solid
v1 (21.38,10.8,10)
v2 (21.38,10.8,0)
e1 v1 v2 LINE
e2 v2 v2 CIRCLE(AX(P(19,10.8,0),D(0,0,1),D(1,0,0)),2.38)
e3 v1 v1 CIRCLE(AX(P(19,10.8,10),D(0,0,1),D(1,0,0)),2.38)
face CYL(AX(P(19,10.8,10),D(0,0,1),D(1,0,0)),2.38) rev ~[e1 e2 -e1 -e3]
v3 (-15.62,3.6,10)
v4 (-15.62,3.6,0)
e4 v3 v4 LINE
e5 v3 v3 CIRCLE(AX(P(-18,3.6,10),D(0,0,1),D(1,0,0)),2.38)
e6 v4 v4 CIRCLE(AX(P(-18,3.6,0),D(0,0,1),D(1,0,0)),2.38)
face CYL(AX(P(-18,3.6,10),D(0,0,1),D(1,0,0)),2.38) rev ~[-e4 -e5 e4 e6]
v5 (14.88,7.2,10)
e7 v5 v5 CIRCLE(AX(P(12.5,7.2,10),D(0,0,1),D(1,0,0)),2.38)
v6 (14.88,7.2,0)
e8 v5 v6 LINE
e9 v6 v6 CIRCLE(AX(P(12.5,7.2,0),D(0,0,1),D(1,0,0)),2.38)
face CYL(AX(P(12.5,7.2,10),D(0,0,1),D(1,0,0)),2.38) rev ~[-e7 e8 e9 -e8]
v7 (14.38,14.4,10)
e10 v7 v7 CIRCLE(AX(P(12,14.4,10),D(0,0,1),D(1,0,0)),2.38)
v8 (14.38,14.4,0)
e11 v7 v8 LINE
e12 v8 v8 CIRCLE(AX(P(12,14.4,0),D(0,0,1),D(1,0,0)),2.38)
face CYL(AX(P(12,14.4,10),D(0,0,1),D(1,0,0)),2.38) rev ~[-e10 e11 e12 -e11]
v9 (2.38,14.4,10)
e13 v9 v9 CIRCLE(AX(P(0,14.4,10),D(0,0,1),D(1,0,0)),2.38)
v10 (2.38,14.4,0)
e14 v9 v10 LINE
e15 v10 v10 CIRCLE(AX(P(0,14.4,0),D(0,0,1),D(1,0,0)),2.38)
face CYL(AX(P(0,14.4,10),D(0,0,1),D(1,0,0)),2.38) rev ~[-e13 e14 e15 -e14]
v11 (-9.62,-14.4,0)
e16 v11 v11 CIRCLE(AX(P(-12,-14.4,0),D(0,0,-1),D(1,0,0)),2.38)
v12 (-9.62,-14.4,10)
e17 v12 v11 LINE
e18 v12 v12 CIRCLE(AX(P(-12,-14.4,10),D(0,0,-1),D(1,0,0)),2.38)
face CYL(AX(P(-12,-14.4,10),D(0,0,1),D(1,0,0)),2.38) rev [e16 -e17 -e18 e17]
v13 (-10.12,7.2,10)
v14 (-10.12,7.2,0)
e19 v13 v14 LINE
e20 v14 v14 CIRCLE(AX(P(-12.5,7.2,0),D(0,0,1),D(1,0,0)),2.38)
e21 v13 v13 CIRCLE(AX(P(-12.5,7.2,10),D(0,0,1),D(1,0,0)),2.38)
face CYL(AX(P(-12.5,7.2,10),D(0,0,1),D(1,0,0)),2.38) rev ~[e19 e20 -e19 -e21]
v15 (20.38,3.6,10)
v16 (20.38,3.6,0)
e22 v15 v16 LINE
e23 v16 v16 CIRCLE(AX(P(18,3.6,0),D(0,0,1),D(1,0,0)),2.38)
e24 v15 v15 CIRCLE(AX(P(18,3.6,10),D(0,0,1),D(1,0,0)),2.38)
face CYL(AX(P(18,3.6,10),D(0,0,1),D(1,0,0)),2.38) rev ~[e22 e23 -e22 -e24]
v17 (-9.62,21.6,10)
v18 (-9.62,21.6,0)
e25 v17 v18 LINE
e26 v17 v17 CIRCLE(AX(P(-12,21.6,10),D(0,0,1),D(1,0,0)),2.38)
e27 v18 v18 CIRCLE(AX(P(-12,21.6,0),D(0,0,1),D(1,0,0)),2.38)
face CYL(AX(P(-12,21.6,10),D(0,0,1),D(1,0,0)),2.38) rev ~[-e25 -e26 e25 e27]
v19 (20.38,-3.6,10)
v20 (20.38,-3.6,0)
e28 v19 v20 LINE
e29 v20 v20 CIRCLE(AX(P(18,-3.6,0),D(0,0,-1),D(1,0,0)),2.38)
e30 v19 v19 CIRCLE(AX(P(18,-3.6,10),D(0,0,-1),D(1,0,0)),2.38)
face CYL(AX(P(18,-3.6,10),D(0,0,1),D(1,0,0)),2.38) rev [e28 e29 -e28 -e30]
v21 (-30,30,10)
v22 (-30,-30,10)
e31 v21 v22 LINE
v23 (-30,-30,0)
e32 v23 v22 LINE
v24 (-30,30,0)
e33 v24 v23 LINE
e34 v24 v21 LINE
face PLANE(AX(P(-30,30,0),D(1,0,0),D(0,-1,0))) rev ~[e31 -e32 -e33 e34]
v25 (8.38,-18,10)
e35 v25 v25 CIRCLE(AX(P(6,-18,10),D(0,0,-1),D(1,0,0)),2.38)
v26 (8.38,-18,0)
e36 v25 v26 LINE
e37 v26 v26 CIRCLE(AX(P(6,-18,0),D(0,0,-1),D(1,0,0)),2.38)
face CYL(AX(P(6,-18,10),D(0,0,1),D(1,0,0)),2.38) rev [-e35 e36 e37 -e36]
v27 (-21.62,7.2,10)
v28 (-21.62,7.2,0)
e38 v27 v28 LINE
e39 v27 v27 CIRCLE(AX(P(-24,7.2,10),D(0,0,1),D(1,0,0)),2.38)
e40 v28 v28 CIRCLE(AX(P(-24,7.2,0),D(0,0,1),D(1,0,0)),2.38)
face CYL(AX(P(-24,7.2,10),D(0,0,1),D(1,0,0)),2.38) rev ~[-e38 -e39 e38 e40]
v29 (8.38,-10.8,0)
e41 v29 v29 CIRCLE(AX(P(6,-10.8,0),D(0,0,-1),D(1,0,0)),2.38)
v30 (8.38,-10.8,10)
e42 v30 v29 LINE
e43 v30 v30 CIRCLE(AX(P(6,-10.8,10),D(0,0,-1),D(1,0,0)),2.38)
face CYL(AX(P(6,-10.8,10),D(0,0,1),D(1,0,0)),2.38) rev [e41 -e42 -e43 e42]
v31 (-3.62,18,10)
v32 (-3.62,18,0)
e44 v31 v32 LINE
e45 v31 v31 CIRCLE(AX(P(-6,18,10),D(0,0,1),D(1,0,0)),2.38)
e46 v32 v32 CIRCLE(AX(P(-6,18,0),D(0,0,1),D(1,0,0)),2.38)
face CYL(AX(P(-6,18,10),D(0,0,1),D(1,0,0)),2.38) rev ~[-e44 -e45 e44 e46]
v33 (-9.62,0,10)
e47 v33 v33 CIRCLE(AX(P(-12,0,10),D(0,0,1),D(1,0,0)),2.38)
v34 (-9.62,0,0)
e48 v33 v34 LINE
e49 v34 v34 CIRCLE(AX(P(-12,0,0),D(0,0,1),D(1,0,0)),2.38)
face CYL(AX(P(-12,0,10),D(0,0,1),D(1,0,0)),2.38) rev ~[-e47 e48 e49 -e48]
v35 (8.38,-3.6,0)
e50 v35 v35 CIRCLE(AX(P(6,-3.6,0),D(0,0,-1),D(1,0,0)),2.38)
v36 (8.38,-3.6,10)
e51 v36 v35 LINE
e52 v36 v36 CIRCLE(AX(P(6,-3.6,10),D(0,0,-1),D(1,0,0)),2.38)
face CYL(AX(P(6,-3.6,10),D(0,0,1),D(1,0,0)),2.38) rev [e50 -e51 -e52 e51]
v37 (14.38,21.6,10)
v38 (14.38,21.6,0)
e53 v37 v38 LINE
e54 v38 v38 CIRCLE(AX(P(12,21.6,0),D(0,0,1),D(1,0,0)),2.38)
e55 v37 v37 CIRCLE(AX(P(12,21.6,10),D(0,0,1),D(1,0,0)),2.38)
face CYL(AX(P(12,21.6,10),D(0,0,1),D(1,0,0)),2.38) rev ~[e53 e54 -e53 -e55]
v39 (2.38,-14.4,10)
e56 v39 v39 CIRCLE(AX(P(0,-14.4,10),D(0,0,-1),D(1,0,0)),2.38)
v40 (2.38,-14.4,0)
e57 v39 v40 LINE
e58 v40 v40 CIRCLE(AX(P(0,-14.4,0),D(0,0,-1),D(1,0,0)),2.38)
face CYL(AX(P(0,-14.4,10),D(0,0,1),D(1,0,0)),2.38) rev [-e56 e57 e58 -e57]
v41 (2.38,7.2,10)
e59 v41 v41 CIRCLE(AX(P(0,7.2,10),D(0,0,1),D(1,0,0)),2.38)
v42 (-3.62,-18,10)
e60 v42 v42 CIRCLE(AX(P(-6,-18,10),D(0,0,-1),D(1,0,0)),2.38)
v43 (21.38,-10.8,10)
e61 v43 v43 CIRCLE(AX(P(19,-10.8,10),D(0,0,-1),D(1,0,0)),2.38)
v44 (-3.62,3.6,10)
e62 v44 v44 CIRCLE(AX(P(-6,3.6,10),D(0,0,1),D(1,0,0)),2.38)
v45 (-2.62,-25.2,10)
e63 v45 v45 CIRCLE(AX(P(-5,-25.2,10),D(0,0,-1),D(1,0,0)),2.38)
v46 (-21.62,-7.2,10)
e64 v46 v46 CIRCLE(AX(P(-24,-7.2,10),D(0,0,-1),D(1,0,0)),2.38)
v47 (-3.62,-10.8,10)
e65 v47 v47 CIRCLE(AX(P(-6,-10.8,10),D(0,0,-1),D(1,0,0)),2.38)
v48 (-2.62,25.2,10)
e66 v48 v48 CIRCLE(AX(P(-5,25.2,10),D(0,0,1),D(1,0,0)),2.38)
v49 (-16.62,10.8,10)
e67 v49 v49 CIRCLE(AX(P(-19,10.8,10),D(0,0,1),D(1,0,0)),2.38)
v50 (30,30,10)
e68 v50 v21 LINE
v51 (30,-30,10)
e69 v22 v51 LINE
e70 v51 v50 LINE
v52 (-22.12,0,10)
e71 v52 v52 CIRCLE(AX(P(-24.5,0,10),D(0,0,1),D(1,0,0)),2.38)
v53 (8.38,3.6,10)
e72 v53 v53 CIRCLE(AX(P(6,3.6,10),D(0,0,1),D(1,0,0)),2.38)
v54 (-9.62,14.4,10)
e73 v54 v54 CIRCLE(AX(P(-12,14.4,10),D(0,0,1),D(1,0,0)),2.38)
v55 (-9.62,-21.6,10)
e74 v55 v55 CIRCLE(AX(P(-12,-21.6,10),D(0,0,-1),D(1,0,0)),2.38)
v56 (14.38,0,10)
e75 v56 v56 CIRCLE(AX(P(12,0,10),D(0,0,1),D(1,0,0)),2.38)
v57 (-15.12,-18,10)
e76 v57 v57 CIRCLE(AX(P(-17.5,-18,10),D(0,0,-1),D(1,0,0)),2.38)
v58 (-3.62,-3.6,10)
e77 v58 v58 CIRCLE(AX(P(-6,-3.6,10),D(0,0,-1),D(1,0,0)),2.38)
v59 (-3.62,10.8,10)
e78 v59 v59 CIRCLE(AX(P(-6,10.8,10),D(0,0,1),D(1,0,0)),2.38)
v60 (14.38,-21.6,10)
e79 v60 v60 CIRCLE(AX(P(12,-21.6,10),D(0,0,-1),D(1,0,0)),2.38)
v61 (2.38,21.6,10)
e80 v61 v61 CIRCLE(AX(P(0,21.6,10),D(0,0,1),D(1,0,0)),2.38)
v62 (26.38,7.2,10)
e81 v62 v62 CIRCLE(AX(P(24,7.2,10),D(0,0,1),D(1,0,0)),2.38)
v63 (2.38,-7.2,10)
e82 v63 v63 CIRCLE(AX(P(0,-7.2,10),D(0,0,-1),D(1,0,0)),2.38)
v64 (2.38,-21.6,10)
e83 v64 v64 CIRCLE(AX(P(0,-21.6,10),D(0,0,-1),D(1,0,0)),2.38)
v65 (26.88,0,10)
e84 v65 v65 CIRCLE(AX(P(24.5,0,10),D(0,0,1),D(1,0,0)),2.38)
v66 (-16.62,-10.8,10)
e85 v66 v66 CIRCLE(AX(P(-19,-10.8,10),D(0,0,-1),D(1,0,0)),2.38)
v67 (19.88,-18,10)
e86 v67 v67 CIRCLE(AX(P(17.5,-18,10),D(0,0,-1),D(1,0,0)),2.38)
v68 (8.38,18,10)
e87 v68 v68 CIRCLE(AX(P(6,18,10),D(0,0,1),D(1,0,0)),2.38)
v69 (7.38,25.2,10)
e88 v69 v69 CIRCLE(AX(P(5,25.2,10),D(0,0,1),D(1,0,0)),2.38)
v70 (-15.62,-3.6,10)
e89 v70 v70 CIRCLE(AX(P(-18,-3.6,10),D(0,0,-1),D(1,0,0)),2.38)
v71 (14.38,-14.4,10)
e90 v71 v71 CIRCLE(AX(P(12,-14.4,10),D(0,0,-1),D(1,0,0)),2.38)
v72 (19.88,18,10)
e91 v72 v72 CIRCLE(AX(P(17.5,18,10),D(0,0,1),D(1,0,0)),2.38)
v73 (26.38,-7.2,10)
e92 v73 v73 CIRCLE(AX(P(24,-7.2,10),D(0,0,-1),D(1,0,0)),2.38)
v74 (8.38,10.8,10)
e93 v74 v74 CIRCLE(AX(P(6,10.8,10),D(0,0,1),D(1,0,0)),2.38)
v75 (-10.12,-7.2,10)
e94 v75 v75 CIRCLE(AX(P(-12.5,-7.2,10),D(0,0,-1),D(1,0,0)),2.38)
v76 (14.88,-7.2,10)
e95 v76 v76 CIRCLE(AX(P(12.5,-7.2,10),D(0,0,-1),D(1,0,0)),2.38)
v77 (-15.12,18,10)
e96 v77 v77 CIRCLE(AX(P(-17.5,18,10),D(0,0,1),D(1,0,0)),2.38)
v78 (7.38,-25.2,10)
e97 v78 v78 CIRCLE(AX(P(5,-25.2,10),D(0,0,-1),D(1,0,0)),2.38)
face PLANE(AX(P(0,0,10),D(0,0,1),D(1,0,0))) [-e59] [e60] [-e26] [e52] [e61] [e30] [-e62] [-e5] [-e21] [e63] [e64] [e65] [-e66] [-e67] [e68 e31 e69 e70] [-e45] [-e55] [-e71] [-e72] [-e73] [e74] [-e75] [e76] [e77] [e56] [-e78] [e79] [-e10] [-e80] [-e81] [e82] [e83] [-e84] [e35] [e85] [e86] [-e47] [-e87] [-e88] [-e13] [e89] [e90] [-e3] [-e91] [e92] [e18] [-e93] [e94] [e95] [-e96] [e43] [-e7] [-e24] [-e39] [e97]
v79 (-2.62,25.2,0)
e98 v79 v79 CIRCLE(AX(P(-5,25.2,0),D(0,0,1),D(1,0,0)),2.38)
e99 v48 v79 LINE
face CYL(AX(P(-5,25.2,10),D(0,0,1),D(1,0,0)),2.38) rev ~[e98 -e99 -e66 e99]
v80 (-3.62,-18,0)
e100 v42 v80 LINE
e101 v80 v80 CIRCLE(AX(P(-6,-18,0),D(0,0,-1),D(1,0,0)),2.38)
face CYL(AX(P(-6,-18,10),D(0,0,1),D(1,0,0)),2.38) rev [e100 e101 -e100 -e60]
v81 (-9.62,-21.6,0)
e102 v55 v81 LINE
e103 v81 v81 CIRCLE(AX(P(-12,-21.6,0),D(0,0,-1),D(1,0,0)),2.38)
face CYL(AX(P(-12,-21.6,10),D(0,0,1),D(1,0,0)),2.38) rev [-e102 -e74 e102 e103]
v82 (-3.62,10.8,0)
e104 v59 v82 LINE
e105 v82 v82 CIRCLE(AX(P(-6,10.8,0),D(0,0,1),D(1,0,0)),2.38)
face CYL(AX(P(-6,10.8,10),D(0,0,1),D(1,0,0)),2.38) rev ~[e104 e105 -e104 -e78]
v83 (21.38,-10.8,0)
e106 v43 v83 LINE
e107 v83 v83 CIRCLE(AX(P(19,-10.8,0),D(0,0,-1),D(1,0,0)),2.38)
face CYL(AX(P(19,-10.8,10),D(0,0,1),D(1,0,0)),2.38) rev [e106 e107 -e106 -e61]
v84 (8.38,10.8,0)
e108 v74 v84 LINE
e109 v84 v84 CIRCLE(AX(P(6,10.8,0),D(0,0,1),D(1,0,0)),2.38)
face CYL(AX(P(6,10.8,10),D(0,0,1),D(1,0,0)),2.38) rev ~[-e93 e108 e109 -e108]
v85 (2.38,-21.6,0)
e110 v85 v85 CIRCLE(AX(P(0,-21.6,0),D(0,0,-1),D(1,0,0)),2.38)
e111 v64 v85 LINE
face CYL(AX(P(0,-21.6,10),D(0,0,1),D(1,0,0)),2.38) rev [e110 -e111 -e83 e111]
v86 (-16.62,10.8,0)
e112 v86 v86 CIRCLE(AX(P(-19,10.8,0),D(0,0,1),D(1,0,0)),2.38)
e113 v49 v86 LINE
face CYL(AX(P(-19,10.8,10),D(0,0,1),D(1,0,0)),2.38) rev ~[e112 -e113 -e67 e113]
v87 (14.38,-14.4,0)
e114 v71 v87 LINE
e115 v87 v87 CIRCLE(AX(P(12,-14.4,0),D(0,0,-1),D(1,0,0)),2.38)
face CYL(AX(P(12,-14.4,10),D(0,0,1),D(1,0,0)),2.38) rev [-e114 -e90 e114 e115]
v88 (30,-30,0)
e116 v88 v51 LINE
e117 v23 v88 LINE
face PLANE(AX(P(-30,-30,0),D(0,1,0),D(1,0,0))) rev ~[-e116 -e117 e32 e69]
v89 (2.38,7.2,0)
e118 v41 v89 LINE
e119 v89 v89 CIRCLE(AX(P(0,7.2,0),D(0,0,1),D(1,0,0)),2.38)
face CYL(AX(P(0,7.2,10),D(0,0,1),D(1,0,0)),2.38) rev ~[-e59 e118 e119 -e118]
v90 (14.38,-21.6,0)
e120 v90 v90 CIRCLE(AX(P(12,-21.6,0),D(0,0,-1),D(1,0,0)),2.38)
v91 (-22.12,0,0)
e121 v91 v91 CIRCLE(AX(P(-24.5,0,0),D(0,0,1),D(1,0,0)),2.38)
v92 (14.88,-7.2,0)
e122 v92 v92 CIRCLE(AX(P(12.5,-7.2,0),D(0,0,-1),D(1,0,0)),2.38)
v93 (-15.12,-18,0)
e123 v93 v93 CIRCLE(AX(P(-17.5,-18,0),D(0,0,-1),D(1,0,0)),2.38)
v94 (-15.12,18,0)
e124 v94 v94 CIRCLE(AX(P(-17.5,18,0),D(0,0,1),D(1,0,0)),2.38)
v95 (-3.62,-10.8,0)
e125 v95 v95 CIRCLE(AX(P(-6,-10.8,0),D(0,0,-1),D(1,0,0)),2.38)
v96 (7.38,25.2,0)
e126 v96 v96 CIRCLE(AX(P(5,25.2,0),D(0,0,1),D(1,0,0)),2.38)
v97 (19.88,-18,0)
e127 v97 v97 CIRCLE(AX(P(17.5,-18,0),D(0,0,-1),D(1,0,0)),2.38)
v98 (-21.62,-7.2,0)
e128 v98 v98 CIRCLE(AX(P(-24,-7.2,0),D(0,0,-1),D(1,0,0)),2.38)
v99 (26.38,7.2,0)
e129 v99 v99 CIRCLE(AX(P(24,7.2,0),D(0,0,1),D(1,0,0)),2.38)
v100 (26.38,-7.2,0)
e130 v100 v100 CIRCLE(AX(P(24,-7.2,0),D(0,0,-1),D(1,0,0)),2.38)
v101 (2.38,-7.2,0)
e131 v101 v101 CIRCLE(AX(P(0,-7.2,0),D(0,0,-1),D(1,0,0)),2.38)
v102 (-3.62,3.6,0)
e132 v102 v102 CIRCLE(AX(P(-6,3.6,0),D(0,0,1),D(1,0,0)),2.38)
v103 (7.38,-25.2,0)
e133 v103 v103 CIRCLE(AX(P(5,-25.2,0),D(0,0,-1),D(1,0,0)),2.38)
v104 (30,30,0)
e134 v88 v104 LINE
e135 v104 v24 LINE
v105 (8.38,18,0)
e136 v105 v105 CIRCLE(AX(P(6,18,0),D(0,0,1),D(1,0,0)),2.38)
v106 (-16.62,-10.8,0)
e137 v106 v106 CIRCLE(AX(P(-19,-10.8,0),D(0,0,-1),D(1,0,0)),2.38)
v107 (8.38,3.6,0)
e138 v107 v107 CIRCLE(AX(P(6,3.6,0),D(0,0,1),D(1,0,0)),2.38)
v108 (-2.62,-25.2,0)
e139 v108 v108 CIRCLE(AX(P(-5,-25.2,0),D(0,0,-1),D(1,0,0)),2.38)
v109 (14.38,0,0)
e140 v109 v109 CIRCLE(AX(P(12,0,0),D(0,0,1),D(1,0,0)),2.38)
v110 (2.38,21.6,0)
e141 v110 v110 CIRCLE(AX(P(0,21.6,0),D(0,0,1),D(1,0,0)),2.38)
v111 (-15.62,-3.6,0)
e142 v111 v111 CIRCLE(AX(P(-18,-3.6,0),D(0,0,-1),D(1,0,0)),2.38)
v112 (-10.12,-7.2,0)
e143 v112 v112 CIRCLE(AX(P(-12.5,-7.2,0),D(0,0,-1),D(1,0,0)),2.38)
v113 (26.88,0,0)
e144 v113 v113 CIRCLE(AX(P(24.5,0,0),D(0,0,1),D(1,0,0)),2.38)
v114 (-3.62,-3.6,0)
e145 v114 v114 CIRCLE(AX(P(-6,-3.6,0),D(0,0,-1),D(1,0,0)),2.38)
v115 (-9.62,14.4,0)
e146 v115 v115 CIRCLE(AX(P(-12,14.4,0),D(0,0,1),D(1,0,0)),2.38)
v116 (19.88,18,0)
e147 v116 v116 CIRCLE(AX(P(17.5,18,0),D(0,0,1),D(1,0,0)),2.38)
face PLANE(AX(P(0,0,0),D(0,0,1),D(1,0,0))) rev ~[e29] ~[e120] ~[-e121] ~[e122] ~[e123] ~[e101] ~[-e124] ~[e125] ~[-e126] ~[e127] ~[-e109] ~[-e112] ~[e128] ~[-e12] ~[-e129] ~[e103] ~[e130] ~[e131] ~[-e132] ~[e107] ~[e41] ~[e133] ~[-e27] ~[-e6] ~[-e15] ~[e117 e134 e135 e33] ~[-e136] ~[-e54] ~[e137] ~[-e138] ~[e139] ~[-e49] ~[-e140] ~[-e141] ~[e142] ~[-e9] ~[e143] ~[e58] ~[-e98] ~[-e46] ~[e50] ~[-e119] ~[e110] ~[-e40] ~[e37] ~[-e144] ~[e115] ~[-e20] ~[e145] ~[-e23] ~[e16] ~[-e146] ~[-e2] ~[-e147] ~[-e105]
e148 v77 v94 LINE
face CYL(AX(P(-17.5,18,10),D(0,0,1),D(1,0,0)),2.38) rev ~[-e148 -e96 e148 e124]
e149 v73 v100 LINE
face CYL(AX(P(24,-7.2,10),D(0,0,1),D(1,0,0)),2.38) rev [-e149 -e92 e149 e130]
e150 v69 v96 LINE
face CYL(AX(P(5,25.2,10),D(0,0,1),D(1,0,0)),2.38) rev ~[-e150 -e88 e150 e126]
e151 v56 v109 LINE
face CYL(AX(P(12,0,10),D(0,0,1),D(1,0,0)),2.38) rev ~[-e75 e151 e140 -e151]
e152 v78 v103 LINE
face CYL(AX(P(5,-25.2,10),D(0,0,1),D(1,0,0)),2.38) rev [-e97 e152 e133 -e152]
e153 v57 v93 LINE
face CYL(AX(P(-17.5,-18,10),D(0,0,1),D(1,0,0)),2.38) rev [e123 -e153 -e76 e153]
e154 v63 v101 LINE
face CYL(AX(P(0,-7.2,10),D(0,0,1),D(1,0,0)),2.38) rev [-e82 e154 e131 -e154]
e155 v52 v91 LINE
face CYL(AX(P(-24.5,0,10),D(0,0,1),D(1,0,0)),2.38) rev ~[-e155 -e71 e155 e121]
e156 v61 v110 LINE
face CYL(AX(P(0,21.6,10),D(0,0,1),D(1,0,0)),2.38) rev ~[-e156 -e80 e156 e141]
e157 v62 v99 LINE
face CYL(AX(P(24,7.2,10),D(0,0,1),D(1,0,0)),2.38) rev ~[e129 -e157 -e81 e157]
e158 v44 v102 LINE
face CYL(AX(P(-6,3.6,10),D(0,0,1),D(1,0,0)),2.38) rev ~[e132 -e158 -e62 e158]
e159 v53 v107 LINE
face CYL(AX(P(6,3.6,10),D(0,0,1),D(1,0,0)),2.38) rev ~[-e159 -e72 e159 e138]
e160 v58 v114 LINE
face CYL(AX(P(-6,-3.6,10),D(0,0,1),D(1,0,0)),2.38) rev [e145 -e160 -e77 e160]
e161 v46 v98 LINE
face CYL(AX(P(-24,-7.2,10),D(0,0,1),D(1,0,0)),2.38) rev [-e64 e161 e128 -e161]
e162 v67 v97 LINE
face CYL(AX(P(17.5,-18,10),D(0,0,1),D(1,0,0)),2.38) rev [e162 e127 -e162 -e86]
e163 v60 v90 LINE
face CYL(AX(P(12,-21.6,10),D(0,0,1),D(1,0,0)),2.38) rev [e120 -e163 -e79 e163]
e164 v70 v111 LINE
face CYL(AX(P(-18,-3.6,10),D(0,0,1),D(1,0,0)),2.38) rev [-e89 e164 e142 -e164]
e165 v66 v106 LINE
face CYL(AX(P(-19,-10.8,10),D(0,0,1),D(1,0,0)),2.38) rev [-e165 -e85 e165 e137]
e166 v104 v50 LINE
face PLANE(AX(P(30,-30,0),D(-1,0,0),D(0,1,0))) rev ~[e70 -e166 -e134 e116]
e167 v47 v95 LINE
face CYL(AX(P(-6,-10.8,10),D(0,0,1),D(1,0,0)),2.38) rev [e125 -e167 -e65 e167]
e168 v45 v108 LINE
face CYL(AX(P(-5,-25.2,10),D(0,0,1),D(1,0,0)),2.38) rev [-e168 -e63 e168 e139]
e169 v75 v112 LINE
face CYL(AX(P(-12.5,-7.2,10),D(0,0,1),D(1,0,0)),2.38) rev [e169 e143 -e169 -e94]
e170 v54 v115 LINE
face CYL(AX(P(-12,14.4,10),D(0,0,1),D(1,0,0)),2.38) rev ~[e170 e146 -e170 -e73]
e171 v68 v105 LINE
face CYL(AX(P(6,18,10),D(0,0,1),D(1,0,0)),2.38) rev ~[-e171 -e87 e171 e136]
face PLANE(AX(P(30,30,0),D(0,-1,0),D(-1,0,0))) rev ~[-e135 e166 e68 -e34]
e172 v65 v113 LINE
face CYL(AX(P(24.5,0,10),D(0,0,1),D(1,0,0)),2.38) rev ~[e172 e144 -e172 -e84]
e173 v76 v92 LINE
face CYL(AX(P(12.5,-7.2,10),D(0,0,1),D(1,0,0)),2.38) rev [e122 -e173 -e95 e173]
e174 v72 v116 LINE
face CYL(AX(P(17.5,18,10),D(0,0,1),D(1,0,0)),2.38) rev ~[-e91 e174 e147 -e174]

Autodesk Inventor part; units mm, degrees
ref_plane "Work Plane1" through (-30, 0, 0) normal (0, 1, 0) x (1, 0, 0)
ref_plane "YZ Plane" through (0, 0, 0) normal (1, 0, 0) x (0, 1, 0)
sketch "Sketch1" plane through (0, 0, 0) normal (0, 0, 1) x (1, 0, 0)
  line L0 (-30, -30) -> (30, -30)
  line L1 (30, -30) -> (30, 30)
  line L2 (30, 30) -> (-30, 30)
  line L3 (-30, 30) -> (-30, -30)
  line L4 (-30, -30) -> (30, 30) construction
  line L5 (30, -30) -> (-30, 30) construction
  point P0 (0, 0)
  dimension "d0" = 60
  dimension "d1" = 60
extrude "Extrusion1" add sketch "Sketch1" along normal blind 10
sketch "Sketch3" plane through (0, 0, 10) normal (0, 0, 1) x (1, 0, 0)
  circle A0 centre (0, 0) radius 29
  line L0 (-14.3513, 25.2) -> (14.3513, 25.2) construction
  line L1 (-19.3505, 21.6) -> (19.3505, 21.6) construction
  line L2 (22.7376, 18) -> (-22.7376, 18) construction
  line L3 (-25.1722, 14.4) -> (25.1722, 14.4) construction
  line L4 (26.9139, 10.8) -> (-26.9139, 10.8) construction
  line L5 (-28.092, 7.2) -> (28.092, 7.2) construction
  line L6 (28.7757, 3.6) -> (-28.7757, 3.6) construction
  line L7 (-29, 0) -> (29, 0) construction
  circle A1 centre (-5, 25.2) radius 2.38
  circle A2 centre (5, 25.2) radius 2.38
  circle A3 centre (-12, 21.6) radius 2.38
  circle A4 centre (0, 21.6) radius 2.38
  circle A5 centre (12, 21.6) radius 2.38
  circle A6 centre (-17.5, 18) radius 2.38
  circle A7 centre (-6, 18) radius 2.38
  circle A8 centre (6, 18) radius 2.38
  circle A9 centre (17.5, 18) radius 2.38
  circle A10 centre (-12, 14.4) radius 2.38
  circle A11 centre (0, 14.4) radius 2.38
  circle A12 centre (12, 14.4) radius 2.38
  circle A13 centre (-19, 10.8) radius 2.38
  circle A14 centre (19, 10.8) radius 2.38
  circle A15 centre (6, 10.8) radius 2.38
  circle A16 centre (-6, 10.8) radius 2.38
  circle A17 centre (-24, 7.2) radius 2.38
  circle A18 centre (-12.5, 7.2) radius 2.38
  circle A19 centre (0, 7.2) radius 2.38
  circle A20 centre (12.5, 7.2) radius 2.38
  circle A21 centre (24, 7.2) radius 2.38
  circle A22 centre (-18, 3.6) radius 2.38
  circle A23 centre (-6, 3.6) radius 2.38
  circle A24 centre (6, 3.6) radius 2.38
  circle A25 centre (18, 3.6) radius 2.38
  circle A26 centre (-24.5, 0) radius 2.38
  circle A27 centre (-12, 0) radius 2.38
  circle A28 centre (12, 0) radius 2.38
  circle A29 centre (24.5, 0) radius 2.38
  dimension "d52" = 58
  dimension "d53" = 3.6
  dimension "d54" = 3.6
  dimension "d55" = 3.6
  dimension "d56" = 3.6
  dimension "d57" = 3.6
  dimension "d58" = 3.6
  dimension "d59" = 3.6
  dimension "d65" = 5
  dimension "d66" = 5
  dimension "d67" = 4.76
  dimension "d68" = 12
  dimension "d69" = 12
  dimension "d70" = 6
  dimension "d71" = 6
  dimension "d72" = 17.5
  dimension "d73" = 17.5
  dimension "d74" = 12
  dimension "d75" = 12
  dimension "d76" = 19
  dimension "d77" = 6
  dimension "d78" = 6
  dimension "d79" = 19
  dimension "d80" = 12.5
  dimension "d81" = 12.5
  dimension "d82" = 24
  dimension "d83" = 24
  dimension "d84" = 6
  dimension "d85" = 6
  dimension "d86" = 18
  dimension "d87" = 18
  dimension "d88" = 12
  dimension "d89" = 12
  dimension "d90" = 24.5
  dimension "d91" = 24.5
extrude "Extrusion3" cut sketch "Sketch3" against normal up to next contours A1 | A2 | A3 | A4 | A5 | A6 | A7 | A8 | A9 | A10 | A11 | A12 | A13 | A14 | A15 | A16 | A17 | A18 | A19 | A20 | A21 | A22 | A23 | A24 | A25 | A26 | A27 | A28 | A29
ref_plane "Work Plane2" through (-30, 0, 0) normal (0, 1, 0) x (1, 0, 0)
mirror "Mirror2" about plane through (-30, 0, 0) normal (0, 1, 0) of "Extrusion3"
sketch "Sketch2" plane through (0, 0, 10) normal (0, 0, 1) x (1, 0, 0)
  circle A0 centre (0, 0) radius 29
  line L0 (-18.8944, 22) -> (18.8944, 22) construction
  line L1 (-21.9089, 19) -> (21.9089, 19) construction
  line L2 (-24.1868, 16) -> (24.1868, 16) construction
  line L3 (-25.923, 13) -> (-25.923, 13) construction
  line L4 (-25.923, 13) -> (25.923, 13) construction
  line L5 (-27.2213, 10) -> (27.2213, 10) construction
  line L6 (-7.5498, 28) -> (7.5498, 28) construction
  line L7 (-14.6969, 25) -> (14.6969, 25) construction
  line L8 (-28.2622, 6.5) -> (28.2622, 6.5) construction
  line L9 (-28.8444, 3) -> (28.8444, 3) construction
  line L10 (-29, 0) -> (29, 0) construction
  circle A1 centre (0, 25) radius 2.38
  circle A2 centre (-10, 25) radius 2.38
  circle A3 centre (10, 25) radius 2.38
  circle A4 centre (5, 22) radius 2.38
  circle A5 centre (14.5, 22) radius 2.38
  circle A6 centre (-5, 22) radius 2.38
  circle A7 centre (-14.5, 22) radius 2.38
  circle A8 centre (-10, 19) radius 2.38
  circle A9 centre (-19, 19) radius 2.38
  circle A10 centre (0, 19) radius 2.38
  circle A11 centre (10, 19) radius 2.38
  circle A12 centre (19, 19) radius 2.38
  circle A13 centre (-14.5, 16) radius 2.38
  circle A14 centre (-5, 16) radius 2.38
  circle A15 centre (5, 16) radius 2.38
  circle A16 centre (14.5, 16) radius 2.38
  circle A17 centre (-19.5, 13) radius 2.38
  circle A18 centre (-10, 13) radius 2.38
  circle A19 centre (0, 13) radius 2.38
  circle A20 centre (10, 13) radius 2.38
  circle A21 centre (19.5, 13) radius 2.38
  circle A22 centre (-24, 10) radius 2.38
  circle A23 centre (-15, 10) radius 2.38
  circle A24 centre (-5, 10) radius 2.38
  circle A25 centre (5, 10) radius 2.38
  circle A26 centre (15, 10) radius 2.38
  circle A27 centre (24, 10) radius 2.38
  circle A28 centre (-19.5, 6.5) radius 2.38
  circle A29 centre (-10, 6.5) radius 2.38
  circle A30 centre (0, 6.5) radius 2.38
  circle A31 centre (10, 6.5) radius 2.38
  circle A32 centre (19.5, 6.5) radius 2.38
  circle A33 centre (-25, 3) radius 2.38
  circle A34 centre (-15, 3) radius 2.38
  circle A35 centre (-5, 3) radius 2.38
  circle A36 centre (5, 3) radius 2.38
  circle A37 centre (15, 3) radius 2.38
  circle A38 centre (25, 3) radius 2.38
  circle A39 centre (-20, 0) radius 2.38
  circle A40 centre (-10, 0) radius 2.38
  circle A41 centre (10, 0) radius 2.38
  circle A42 centre (20, 0) radius 2.38
  dimension "d4" = 58
  dimension "d5" = 3
  dimension "d6" = 3
  dimension "d7" = 3
  dimension "d8" = 3
  dimension "d9" = 3.5
  dimension "d10" = 3.5
  dimension "d11" = 3
  dimension "d12" = 3
  dimension "d13" = 3
  dimension "d14" = 4.76
  dimension "d15" = 10
  dimension "d16" = 10
  dimension "d17" = 14.5
  dimension "d18" = 5
  dimension "d19" = 5
  dimension "d20" = 14.5
  dimension "d21" = 10
  dimension "d22" = 19
  dimension "d23" = 19
  dimension "d24" = 10
  dimension "d25" = 5
  dimension "d26" = 5
  dimension "d27" = 14.5
  dimension "d28" = 14.5
  dimension "d29" = 10
  dimension "d30" = 10
  dimension "d31" = 19.5
  dimension "d32" = 19.5
  dimension "d33" = 24
  dimension "d34" = 24
  dimension "d35" = 15
  dimension "d36" = 15
  dimension "d37" = 5
  dimension "d38" = 5
  dimension "d39" = 5
  dimension "d40" = 5
  dimension "d41" = 15
  dimension "d42" = 25
  dimension "d43" = 25
  dimension "d44" = 15
  dimension "d45" = 20
  dimension "d46" = 10
  dimension "d47" = 10
  dimension "d48" = 20
properties part number "FanTemplate60mm"
